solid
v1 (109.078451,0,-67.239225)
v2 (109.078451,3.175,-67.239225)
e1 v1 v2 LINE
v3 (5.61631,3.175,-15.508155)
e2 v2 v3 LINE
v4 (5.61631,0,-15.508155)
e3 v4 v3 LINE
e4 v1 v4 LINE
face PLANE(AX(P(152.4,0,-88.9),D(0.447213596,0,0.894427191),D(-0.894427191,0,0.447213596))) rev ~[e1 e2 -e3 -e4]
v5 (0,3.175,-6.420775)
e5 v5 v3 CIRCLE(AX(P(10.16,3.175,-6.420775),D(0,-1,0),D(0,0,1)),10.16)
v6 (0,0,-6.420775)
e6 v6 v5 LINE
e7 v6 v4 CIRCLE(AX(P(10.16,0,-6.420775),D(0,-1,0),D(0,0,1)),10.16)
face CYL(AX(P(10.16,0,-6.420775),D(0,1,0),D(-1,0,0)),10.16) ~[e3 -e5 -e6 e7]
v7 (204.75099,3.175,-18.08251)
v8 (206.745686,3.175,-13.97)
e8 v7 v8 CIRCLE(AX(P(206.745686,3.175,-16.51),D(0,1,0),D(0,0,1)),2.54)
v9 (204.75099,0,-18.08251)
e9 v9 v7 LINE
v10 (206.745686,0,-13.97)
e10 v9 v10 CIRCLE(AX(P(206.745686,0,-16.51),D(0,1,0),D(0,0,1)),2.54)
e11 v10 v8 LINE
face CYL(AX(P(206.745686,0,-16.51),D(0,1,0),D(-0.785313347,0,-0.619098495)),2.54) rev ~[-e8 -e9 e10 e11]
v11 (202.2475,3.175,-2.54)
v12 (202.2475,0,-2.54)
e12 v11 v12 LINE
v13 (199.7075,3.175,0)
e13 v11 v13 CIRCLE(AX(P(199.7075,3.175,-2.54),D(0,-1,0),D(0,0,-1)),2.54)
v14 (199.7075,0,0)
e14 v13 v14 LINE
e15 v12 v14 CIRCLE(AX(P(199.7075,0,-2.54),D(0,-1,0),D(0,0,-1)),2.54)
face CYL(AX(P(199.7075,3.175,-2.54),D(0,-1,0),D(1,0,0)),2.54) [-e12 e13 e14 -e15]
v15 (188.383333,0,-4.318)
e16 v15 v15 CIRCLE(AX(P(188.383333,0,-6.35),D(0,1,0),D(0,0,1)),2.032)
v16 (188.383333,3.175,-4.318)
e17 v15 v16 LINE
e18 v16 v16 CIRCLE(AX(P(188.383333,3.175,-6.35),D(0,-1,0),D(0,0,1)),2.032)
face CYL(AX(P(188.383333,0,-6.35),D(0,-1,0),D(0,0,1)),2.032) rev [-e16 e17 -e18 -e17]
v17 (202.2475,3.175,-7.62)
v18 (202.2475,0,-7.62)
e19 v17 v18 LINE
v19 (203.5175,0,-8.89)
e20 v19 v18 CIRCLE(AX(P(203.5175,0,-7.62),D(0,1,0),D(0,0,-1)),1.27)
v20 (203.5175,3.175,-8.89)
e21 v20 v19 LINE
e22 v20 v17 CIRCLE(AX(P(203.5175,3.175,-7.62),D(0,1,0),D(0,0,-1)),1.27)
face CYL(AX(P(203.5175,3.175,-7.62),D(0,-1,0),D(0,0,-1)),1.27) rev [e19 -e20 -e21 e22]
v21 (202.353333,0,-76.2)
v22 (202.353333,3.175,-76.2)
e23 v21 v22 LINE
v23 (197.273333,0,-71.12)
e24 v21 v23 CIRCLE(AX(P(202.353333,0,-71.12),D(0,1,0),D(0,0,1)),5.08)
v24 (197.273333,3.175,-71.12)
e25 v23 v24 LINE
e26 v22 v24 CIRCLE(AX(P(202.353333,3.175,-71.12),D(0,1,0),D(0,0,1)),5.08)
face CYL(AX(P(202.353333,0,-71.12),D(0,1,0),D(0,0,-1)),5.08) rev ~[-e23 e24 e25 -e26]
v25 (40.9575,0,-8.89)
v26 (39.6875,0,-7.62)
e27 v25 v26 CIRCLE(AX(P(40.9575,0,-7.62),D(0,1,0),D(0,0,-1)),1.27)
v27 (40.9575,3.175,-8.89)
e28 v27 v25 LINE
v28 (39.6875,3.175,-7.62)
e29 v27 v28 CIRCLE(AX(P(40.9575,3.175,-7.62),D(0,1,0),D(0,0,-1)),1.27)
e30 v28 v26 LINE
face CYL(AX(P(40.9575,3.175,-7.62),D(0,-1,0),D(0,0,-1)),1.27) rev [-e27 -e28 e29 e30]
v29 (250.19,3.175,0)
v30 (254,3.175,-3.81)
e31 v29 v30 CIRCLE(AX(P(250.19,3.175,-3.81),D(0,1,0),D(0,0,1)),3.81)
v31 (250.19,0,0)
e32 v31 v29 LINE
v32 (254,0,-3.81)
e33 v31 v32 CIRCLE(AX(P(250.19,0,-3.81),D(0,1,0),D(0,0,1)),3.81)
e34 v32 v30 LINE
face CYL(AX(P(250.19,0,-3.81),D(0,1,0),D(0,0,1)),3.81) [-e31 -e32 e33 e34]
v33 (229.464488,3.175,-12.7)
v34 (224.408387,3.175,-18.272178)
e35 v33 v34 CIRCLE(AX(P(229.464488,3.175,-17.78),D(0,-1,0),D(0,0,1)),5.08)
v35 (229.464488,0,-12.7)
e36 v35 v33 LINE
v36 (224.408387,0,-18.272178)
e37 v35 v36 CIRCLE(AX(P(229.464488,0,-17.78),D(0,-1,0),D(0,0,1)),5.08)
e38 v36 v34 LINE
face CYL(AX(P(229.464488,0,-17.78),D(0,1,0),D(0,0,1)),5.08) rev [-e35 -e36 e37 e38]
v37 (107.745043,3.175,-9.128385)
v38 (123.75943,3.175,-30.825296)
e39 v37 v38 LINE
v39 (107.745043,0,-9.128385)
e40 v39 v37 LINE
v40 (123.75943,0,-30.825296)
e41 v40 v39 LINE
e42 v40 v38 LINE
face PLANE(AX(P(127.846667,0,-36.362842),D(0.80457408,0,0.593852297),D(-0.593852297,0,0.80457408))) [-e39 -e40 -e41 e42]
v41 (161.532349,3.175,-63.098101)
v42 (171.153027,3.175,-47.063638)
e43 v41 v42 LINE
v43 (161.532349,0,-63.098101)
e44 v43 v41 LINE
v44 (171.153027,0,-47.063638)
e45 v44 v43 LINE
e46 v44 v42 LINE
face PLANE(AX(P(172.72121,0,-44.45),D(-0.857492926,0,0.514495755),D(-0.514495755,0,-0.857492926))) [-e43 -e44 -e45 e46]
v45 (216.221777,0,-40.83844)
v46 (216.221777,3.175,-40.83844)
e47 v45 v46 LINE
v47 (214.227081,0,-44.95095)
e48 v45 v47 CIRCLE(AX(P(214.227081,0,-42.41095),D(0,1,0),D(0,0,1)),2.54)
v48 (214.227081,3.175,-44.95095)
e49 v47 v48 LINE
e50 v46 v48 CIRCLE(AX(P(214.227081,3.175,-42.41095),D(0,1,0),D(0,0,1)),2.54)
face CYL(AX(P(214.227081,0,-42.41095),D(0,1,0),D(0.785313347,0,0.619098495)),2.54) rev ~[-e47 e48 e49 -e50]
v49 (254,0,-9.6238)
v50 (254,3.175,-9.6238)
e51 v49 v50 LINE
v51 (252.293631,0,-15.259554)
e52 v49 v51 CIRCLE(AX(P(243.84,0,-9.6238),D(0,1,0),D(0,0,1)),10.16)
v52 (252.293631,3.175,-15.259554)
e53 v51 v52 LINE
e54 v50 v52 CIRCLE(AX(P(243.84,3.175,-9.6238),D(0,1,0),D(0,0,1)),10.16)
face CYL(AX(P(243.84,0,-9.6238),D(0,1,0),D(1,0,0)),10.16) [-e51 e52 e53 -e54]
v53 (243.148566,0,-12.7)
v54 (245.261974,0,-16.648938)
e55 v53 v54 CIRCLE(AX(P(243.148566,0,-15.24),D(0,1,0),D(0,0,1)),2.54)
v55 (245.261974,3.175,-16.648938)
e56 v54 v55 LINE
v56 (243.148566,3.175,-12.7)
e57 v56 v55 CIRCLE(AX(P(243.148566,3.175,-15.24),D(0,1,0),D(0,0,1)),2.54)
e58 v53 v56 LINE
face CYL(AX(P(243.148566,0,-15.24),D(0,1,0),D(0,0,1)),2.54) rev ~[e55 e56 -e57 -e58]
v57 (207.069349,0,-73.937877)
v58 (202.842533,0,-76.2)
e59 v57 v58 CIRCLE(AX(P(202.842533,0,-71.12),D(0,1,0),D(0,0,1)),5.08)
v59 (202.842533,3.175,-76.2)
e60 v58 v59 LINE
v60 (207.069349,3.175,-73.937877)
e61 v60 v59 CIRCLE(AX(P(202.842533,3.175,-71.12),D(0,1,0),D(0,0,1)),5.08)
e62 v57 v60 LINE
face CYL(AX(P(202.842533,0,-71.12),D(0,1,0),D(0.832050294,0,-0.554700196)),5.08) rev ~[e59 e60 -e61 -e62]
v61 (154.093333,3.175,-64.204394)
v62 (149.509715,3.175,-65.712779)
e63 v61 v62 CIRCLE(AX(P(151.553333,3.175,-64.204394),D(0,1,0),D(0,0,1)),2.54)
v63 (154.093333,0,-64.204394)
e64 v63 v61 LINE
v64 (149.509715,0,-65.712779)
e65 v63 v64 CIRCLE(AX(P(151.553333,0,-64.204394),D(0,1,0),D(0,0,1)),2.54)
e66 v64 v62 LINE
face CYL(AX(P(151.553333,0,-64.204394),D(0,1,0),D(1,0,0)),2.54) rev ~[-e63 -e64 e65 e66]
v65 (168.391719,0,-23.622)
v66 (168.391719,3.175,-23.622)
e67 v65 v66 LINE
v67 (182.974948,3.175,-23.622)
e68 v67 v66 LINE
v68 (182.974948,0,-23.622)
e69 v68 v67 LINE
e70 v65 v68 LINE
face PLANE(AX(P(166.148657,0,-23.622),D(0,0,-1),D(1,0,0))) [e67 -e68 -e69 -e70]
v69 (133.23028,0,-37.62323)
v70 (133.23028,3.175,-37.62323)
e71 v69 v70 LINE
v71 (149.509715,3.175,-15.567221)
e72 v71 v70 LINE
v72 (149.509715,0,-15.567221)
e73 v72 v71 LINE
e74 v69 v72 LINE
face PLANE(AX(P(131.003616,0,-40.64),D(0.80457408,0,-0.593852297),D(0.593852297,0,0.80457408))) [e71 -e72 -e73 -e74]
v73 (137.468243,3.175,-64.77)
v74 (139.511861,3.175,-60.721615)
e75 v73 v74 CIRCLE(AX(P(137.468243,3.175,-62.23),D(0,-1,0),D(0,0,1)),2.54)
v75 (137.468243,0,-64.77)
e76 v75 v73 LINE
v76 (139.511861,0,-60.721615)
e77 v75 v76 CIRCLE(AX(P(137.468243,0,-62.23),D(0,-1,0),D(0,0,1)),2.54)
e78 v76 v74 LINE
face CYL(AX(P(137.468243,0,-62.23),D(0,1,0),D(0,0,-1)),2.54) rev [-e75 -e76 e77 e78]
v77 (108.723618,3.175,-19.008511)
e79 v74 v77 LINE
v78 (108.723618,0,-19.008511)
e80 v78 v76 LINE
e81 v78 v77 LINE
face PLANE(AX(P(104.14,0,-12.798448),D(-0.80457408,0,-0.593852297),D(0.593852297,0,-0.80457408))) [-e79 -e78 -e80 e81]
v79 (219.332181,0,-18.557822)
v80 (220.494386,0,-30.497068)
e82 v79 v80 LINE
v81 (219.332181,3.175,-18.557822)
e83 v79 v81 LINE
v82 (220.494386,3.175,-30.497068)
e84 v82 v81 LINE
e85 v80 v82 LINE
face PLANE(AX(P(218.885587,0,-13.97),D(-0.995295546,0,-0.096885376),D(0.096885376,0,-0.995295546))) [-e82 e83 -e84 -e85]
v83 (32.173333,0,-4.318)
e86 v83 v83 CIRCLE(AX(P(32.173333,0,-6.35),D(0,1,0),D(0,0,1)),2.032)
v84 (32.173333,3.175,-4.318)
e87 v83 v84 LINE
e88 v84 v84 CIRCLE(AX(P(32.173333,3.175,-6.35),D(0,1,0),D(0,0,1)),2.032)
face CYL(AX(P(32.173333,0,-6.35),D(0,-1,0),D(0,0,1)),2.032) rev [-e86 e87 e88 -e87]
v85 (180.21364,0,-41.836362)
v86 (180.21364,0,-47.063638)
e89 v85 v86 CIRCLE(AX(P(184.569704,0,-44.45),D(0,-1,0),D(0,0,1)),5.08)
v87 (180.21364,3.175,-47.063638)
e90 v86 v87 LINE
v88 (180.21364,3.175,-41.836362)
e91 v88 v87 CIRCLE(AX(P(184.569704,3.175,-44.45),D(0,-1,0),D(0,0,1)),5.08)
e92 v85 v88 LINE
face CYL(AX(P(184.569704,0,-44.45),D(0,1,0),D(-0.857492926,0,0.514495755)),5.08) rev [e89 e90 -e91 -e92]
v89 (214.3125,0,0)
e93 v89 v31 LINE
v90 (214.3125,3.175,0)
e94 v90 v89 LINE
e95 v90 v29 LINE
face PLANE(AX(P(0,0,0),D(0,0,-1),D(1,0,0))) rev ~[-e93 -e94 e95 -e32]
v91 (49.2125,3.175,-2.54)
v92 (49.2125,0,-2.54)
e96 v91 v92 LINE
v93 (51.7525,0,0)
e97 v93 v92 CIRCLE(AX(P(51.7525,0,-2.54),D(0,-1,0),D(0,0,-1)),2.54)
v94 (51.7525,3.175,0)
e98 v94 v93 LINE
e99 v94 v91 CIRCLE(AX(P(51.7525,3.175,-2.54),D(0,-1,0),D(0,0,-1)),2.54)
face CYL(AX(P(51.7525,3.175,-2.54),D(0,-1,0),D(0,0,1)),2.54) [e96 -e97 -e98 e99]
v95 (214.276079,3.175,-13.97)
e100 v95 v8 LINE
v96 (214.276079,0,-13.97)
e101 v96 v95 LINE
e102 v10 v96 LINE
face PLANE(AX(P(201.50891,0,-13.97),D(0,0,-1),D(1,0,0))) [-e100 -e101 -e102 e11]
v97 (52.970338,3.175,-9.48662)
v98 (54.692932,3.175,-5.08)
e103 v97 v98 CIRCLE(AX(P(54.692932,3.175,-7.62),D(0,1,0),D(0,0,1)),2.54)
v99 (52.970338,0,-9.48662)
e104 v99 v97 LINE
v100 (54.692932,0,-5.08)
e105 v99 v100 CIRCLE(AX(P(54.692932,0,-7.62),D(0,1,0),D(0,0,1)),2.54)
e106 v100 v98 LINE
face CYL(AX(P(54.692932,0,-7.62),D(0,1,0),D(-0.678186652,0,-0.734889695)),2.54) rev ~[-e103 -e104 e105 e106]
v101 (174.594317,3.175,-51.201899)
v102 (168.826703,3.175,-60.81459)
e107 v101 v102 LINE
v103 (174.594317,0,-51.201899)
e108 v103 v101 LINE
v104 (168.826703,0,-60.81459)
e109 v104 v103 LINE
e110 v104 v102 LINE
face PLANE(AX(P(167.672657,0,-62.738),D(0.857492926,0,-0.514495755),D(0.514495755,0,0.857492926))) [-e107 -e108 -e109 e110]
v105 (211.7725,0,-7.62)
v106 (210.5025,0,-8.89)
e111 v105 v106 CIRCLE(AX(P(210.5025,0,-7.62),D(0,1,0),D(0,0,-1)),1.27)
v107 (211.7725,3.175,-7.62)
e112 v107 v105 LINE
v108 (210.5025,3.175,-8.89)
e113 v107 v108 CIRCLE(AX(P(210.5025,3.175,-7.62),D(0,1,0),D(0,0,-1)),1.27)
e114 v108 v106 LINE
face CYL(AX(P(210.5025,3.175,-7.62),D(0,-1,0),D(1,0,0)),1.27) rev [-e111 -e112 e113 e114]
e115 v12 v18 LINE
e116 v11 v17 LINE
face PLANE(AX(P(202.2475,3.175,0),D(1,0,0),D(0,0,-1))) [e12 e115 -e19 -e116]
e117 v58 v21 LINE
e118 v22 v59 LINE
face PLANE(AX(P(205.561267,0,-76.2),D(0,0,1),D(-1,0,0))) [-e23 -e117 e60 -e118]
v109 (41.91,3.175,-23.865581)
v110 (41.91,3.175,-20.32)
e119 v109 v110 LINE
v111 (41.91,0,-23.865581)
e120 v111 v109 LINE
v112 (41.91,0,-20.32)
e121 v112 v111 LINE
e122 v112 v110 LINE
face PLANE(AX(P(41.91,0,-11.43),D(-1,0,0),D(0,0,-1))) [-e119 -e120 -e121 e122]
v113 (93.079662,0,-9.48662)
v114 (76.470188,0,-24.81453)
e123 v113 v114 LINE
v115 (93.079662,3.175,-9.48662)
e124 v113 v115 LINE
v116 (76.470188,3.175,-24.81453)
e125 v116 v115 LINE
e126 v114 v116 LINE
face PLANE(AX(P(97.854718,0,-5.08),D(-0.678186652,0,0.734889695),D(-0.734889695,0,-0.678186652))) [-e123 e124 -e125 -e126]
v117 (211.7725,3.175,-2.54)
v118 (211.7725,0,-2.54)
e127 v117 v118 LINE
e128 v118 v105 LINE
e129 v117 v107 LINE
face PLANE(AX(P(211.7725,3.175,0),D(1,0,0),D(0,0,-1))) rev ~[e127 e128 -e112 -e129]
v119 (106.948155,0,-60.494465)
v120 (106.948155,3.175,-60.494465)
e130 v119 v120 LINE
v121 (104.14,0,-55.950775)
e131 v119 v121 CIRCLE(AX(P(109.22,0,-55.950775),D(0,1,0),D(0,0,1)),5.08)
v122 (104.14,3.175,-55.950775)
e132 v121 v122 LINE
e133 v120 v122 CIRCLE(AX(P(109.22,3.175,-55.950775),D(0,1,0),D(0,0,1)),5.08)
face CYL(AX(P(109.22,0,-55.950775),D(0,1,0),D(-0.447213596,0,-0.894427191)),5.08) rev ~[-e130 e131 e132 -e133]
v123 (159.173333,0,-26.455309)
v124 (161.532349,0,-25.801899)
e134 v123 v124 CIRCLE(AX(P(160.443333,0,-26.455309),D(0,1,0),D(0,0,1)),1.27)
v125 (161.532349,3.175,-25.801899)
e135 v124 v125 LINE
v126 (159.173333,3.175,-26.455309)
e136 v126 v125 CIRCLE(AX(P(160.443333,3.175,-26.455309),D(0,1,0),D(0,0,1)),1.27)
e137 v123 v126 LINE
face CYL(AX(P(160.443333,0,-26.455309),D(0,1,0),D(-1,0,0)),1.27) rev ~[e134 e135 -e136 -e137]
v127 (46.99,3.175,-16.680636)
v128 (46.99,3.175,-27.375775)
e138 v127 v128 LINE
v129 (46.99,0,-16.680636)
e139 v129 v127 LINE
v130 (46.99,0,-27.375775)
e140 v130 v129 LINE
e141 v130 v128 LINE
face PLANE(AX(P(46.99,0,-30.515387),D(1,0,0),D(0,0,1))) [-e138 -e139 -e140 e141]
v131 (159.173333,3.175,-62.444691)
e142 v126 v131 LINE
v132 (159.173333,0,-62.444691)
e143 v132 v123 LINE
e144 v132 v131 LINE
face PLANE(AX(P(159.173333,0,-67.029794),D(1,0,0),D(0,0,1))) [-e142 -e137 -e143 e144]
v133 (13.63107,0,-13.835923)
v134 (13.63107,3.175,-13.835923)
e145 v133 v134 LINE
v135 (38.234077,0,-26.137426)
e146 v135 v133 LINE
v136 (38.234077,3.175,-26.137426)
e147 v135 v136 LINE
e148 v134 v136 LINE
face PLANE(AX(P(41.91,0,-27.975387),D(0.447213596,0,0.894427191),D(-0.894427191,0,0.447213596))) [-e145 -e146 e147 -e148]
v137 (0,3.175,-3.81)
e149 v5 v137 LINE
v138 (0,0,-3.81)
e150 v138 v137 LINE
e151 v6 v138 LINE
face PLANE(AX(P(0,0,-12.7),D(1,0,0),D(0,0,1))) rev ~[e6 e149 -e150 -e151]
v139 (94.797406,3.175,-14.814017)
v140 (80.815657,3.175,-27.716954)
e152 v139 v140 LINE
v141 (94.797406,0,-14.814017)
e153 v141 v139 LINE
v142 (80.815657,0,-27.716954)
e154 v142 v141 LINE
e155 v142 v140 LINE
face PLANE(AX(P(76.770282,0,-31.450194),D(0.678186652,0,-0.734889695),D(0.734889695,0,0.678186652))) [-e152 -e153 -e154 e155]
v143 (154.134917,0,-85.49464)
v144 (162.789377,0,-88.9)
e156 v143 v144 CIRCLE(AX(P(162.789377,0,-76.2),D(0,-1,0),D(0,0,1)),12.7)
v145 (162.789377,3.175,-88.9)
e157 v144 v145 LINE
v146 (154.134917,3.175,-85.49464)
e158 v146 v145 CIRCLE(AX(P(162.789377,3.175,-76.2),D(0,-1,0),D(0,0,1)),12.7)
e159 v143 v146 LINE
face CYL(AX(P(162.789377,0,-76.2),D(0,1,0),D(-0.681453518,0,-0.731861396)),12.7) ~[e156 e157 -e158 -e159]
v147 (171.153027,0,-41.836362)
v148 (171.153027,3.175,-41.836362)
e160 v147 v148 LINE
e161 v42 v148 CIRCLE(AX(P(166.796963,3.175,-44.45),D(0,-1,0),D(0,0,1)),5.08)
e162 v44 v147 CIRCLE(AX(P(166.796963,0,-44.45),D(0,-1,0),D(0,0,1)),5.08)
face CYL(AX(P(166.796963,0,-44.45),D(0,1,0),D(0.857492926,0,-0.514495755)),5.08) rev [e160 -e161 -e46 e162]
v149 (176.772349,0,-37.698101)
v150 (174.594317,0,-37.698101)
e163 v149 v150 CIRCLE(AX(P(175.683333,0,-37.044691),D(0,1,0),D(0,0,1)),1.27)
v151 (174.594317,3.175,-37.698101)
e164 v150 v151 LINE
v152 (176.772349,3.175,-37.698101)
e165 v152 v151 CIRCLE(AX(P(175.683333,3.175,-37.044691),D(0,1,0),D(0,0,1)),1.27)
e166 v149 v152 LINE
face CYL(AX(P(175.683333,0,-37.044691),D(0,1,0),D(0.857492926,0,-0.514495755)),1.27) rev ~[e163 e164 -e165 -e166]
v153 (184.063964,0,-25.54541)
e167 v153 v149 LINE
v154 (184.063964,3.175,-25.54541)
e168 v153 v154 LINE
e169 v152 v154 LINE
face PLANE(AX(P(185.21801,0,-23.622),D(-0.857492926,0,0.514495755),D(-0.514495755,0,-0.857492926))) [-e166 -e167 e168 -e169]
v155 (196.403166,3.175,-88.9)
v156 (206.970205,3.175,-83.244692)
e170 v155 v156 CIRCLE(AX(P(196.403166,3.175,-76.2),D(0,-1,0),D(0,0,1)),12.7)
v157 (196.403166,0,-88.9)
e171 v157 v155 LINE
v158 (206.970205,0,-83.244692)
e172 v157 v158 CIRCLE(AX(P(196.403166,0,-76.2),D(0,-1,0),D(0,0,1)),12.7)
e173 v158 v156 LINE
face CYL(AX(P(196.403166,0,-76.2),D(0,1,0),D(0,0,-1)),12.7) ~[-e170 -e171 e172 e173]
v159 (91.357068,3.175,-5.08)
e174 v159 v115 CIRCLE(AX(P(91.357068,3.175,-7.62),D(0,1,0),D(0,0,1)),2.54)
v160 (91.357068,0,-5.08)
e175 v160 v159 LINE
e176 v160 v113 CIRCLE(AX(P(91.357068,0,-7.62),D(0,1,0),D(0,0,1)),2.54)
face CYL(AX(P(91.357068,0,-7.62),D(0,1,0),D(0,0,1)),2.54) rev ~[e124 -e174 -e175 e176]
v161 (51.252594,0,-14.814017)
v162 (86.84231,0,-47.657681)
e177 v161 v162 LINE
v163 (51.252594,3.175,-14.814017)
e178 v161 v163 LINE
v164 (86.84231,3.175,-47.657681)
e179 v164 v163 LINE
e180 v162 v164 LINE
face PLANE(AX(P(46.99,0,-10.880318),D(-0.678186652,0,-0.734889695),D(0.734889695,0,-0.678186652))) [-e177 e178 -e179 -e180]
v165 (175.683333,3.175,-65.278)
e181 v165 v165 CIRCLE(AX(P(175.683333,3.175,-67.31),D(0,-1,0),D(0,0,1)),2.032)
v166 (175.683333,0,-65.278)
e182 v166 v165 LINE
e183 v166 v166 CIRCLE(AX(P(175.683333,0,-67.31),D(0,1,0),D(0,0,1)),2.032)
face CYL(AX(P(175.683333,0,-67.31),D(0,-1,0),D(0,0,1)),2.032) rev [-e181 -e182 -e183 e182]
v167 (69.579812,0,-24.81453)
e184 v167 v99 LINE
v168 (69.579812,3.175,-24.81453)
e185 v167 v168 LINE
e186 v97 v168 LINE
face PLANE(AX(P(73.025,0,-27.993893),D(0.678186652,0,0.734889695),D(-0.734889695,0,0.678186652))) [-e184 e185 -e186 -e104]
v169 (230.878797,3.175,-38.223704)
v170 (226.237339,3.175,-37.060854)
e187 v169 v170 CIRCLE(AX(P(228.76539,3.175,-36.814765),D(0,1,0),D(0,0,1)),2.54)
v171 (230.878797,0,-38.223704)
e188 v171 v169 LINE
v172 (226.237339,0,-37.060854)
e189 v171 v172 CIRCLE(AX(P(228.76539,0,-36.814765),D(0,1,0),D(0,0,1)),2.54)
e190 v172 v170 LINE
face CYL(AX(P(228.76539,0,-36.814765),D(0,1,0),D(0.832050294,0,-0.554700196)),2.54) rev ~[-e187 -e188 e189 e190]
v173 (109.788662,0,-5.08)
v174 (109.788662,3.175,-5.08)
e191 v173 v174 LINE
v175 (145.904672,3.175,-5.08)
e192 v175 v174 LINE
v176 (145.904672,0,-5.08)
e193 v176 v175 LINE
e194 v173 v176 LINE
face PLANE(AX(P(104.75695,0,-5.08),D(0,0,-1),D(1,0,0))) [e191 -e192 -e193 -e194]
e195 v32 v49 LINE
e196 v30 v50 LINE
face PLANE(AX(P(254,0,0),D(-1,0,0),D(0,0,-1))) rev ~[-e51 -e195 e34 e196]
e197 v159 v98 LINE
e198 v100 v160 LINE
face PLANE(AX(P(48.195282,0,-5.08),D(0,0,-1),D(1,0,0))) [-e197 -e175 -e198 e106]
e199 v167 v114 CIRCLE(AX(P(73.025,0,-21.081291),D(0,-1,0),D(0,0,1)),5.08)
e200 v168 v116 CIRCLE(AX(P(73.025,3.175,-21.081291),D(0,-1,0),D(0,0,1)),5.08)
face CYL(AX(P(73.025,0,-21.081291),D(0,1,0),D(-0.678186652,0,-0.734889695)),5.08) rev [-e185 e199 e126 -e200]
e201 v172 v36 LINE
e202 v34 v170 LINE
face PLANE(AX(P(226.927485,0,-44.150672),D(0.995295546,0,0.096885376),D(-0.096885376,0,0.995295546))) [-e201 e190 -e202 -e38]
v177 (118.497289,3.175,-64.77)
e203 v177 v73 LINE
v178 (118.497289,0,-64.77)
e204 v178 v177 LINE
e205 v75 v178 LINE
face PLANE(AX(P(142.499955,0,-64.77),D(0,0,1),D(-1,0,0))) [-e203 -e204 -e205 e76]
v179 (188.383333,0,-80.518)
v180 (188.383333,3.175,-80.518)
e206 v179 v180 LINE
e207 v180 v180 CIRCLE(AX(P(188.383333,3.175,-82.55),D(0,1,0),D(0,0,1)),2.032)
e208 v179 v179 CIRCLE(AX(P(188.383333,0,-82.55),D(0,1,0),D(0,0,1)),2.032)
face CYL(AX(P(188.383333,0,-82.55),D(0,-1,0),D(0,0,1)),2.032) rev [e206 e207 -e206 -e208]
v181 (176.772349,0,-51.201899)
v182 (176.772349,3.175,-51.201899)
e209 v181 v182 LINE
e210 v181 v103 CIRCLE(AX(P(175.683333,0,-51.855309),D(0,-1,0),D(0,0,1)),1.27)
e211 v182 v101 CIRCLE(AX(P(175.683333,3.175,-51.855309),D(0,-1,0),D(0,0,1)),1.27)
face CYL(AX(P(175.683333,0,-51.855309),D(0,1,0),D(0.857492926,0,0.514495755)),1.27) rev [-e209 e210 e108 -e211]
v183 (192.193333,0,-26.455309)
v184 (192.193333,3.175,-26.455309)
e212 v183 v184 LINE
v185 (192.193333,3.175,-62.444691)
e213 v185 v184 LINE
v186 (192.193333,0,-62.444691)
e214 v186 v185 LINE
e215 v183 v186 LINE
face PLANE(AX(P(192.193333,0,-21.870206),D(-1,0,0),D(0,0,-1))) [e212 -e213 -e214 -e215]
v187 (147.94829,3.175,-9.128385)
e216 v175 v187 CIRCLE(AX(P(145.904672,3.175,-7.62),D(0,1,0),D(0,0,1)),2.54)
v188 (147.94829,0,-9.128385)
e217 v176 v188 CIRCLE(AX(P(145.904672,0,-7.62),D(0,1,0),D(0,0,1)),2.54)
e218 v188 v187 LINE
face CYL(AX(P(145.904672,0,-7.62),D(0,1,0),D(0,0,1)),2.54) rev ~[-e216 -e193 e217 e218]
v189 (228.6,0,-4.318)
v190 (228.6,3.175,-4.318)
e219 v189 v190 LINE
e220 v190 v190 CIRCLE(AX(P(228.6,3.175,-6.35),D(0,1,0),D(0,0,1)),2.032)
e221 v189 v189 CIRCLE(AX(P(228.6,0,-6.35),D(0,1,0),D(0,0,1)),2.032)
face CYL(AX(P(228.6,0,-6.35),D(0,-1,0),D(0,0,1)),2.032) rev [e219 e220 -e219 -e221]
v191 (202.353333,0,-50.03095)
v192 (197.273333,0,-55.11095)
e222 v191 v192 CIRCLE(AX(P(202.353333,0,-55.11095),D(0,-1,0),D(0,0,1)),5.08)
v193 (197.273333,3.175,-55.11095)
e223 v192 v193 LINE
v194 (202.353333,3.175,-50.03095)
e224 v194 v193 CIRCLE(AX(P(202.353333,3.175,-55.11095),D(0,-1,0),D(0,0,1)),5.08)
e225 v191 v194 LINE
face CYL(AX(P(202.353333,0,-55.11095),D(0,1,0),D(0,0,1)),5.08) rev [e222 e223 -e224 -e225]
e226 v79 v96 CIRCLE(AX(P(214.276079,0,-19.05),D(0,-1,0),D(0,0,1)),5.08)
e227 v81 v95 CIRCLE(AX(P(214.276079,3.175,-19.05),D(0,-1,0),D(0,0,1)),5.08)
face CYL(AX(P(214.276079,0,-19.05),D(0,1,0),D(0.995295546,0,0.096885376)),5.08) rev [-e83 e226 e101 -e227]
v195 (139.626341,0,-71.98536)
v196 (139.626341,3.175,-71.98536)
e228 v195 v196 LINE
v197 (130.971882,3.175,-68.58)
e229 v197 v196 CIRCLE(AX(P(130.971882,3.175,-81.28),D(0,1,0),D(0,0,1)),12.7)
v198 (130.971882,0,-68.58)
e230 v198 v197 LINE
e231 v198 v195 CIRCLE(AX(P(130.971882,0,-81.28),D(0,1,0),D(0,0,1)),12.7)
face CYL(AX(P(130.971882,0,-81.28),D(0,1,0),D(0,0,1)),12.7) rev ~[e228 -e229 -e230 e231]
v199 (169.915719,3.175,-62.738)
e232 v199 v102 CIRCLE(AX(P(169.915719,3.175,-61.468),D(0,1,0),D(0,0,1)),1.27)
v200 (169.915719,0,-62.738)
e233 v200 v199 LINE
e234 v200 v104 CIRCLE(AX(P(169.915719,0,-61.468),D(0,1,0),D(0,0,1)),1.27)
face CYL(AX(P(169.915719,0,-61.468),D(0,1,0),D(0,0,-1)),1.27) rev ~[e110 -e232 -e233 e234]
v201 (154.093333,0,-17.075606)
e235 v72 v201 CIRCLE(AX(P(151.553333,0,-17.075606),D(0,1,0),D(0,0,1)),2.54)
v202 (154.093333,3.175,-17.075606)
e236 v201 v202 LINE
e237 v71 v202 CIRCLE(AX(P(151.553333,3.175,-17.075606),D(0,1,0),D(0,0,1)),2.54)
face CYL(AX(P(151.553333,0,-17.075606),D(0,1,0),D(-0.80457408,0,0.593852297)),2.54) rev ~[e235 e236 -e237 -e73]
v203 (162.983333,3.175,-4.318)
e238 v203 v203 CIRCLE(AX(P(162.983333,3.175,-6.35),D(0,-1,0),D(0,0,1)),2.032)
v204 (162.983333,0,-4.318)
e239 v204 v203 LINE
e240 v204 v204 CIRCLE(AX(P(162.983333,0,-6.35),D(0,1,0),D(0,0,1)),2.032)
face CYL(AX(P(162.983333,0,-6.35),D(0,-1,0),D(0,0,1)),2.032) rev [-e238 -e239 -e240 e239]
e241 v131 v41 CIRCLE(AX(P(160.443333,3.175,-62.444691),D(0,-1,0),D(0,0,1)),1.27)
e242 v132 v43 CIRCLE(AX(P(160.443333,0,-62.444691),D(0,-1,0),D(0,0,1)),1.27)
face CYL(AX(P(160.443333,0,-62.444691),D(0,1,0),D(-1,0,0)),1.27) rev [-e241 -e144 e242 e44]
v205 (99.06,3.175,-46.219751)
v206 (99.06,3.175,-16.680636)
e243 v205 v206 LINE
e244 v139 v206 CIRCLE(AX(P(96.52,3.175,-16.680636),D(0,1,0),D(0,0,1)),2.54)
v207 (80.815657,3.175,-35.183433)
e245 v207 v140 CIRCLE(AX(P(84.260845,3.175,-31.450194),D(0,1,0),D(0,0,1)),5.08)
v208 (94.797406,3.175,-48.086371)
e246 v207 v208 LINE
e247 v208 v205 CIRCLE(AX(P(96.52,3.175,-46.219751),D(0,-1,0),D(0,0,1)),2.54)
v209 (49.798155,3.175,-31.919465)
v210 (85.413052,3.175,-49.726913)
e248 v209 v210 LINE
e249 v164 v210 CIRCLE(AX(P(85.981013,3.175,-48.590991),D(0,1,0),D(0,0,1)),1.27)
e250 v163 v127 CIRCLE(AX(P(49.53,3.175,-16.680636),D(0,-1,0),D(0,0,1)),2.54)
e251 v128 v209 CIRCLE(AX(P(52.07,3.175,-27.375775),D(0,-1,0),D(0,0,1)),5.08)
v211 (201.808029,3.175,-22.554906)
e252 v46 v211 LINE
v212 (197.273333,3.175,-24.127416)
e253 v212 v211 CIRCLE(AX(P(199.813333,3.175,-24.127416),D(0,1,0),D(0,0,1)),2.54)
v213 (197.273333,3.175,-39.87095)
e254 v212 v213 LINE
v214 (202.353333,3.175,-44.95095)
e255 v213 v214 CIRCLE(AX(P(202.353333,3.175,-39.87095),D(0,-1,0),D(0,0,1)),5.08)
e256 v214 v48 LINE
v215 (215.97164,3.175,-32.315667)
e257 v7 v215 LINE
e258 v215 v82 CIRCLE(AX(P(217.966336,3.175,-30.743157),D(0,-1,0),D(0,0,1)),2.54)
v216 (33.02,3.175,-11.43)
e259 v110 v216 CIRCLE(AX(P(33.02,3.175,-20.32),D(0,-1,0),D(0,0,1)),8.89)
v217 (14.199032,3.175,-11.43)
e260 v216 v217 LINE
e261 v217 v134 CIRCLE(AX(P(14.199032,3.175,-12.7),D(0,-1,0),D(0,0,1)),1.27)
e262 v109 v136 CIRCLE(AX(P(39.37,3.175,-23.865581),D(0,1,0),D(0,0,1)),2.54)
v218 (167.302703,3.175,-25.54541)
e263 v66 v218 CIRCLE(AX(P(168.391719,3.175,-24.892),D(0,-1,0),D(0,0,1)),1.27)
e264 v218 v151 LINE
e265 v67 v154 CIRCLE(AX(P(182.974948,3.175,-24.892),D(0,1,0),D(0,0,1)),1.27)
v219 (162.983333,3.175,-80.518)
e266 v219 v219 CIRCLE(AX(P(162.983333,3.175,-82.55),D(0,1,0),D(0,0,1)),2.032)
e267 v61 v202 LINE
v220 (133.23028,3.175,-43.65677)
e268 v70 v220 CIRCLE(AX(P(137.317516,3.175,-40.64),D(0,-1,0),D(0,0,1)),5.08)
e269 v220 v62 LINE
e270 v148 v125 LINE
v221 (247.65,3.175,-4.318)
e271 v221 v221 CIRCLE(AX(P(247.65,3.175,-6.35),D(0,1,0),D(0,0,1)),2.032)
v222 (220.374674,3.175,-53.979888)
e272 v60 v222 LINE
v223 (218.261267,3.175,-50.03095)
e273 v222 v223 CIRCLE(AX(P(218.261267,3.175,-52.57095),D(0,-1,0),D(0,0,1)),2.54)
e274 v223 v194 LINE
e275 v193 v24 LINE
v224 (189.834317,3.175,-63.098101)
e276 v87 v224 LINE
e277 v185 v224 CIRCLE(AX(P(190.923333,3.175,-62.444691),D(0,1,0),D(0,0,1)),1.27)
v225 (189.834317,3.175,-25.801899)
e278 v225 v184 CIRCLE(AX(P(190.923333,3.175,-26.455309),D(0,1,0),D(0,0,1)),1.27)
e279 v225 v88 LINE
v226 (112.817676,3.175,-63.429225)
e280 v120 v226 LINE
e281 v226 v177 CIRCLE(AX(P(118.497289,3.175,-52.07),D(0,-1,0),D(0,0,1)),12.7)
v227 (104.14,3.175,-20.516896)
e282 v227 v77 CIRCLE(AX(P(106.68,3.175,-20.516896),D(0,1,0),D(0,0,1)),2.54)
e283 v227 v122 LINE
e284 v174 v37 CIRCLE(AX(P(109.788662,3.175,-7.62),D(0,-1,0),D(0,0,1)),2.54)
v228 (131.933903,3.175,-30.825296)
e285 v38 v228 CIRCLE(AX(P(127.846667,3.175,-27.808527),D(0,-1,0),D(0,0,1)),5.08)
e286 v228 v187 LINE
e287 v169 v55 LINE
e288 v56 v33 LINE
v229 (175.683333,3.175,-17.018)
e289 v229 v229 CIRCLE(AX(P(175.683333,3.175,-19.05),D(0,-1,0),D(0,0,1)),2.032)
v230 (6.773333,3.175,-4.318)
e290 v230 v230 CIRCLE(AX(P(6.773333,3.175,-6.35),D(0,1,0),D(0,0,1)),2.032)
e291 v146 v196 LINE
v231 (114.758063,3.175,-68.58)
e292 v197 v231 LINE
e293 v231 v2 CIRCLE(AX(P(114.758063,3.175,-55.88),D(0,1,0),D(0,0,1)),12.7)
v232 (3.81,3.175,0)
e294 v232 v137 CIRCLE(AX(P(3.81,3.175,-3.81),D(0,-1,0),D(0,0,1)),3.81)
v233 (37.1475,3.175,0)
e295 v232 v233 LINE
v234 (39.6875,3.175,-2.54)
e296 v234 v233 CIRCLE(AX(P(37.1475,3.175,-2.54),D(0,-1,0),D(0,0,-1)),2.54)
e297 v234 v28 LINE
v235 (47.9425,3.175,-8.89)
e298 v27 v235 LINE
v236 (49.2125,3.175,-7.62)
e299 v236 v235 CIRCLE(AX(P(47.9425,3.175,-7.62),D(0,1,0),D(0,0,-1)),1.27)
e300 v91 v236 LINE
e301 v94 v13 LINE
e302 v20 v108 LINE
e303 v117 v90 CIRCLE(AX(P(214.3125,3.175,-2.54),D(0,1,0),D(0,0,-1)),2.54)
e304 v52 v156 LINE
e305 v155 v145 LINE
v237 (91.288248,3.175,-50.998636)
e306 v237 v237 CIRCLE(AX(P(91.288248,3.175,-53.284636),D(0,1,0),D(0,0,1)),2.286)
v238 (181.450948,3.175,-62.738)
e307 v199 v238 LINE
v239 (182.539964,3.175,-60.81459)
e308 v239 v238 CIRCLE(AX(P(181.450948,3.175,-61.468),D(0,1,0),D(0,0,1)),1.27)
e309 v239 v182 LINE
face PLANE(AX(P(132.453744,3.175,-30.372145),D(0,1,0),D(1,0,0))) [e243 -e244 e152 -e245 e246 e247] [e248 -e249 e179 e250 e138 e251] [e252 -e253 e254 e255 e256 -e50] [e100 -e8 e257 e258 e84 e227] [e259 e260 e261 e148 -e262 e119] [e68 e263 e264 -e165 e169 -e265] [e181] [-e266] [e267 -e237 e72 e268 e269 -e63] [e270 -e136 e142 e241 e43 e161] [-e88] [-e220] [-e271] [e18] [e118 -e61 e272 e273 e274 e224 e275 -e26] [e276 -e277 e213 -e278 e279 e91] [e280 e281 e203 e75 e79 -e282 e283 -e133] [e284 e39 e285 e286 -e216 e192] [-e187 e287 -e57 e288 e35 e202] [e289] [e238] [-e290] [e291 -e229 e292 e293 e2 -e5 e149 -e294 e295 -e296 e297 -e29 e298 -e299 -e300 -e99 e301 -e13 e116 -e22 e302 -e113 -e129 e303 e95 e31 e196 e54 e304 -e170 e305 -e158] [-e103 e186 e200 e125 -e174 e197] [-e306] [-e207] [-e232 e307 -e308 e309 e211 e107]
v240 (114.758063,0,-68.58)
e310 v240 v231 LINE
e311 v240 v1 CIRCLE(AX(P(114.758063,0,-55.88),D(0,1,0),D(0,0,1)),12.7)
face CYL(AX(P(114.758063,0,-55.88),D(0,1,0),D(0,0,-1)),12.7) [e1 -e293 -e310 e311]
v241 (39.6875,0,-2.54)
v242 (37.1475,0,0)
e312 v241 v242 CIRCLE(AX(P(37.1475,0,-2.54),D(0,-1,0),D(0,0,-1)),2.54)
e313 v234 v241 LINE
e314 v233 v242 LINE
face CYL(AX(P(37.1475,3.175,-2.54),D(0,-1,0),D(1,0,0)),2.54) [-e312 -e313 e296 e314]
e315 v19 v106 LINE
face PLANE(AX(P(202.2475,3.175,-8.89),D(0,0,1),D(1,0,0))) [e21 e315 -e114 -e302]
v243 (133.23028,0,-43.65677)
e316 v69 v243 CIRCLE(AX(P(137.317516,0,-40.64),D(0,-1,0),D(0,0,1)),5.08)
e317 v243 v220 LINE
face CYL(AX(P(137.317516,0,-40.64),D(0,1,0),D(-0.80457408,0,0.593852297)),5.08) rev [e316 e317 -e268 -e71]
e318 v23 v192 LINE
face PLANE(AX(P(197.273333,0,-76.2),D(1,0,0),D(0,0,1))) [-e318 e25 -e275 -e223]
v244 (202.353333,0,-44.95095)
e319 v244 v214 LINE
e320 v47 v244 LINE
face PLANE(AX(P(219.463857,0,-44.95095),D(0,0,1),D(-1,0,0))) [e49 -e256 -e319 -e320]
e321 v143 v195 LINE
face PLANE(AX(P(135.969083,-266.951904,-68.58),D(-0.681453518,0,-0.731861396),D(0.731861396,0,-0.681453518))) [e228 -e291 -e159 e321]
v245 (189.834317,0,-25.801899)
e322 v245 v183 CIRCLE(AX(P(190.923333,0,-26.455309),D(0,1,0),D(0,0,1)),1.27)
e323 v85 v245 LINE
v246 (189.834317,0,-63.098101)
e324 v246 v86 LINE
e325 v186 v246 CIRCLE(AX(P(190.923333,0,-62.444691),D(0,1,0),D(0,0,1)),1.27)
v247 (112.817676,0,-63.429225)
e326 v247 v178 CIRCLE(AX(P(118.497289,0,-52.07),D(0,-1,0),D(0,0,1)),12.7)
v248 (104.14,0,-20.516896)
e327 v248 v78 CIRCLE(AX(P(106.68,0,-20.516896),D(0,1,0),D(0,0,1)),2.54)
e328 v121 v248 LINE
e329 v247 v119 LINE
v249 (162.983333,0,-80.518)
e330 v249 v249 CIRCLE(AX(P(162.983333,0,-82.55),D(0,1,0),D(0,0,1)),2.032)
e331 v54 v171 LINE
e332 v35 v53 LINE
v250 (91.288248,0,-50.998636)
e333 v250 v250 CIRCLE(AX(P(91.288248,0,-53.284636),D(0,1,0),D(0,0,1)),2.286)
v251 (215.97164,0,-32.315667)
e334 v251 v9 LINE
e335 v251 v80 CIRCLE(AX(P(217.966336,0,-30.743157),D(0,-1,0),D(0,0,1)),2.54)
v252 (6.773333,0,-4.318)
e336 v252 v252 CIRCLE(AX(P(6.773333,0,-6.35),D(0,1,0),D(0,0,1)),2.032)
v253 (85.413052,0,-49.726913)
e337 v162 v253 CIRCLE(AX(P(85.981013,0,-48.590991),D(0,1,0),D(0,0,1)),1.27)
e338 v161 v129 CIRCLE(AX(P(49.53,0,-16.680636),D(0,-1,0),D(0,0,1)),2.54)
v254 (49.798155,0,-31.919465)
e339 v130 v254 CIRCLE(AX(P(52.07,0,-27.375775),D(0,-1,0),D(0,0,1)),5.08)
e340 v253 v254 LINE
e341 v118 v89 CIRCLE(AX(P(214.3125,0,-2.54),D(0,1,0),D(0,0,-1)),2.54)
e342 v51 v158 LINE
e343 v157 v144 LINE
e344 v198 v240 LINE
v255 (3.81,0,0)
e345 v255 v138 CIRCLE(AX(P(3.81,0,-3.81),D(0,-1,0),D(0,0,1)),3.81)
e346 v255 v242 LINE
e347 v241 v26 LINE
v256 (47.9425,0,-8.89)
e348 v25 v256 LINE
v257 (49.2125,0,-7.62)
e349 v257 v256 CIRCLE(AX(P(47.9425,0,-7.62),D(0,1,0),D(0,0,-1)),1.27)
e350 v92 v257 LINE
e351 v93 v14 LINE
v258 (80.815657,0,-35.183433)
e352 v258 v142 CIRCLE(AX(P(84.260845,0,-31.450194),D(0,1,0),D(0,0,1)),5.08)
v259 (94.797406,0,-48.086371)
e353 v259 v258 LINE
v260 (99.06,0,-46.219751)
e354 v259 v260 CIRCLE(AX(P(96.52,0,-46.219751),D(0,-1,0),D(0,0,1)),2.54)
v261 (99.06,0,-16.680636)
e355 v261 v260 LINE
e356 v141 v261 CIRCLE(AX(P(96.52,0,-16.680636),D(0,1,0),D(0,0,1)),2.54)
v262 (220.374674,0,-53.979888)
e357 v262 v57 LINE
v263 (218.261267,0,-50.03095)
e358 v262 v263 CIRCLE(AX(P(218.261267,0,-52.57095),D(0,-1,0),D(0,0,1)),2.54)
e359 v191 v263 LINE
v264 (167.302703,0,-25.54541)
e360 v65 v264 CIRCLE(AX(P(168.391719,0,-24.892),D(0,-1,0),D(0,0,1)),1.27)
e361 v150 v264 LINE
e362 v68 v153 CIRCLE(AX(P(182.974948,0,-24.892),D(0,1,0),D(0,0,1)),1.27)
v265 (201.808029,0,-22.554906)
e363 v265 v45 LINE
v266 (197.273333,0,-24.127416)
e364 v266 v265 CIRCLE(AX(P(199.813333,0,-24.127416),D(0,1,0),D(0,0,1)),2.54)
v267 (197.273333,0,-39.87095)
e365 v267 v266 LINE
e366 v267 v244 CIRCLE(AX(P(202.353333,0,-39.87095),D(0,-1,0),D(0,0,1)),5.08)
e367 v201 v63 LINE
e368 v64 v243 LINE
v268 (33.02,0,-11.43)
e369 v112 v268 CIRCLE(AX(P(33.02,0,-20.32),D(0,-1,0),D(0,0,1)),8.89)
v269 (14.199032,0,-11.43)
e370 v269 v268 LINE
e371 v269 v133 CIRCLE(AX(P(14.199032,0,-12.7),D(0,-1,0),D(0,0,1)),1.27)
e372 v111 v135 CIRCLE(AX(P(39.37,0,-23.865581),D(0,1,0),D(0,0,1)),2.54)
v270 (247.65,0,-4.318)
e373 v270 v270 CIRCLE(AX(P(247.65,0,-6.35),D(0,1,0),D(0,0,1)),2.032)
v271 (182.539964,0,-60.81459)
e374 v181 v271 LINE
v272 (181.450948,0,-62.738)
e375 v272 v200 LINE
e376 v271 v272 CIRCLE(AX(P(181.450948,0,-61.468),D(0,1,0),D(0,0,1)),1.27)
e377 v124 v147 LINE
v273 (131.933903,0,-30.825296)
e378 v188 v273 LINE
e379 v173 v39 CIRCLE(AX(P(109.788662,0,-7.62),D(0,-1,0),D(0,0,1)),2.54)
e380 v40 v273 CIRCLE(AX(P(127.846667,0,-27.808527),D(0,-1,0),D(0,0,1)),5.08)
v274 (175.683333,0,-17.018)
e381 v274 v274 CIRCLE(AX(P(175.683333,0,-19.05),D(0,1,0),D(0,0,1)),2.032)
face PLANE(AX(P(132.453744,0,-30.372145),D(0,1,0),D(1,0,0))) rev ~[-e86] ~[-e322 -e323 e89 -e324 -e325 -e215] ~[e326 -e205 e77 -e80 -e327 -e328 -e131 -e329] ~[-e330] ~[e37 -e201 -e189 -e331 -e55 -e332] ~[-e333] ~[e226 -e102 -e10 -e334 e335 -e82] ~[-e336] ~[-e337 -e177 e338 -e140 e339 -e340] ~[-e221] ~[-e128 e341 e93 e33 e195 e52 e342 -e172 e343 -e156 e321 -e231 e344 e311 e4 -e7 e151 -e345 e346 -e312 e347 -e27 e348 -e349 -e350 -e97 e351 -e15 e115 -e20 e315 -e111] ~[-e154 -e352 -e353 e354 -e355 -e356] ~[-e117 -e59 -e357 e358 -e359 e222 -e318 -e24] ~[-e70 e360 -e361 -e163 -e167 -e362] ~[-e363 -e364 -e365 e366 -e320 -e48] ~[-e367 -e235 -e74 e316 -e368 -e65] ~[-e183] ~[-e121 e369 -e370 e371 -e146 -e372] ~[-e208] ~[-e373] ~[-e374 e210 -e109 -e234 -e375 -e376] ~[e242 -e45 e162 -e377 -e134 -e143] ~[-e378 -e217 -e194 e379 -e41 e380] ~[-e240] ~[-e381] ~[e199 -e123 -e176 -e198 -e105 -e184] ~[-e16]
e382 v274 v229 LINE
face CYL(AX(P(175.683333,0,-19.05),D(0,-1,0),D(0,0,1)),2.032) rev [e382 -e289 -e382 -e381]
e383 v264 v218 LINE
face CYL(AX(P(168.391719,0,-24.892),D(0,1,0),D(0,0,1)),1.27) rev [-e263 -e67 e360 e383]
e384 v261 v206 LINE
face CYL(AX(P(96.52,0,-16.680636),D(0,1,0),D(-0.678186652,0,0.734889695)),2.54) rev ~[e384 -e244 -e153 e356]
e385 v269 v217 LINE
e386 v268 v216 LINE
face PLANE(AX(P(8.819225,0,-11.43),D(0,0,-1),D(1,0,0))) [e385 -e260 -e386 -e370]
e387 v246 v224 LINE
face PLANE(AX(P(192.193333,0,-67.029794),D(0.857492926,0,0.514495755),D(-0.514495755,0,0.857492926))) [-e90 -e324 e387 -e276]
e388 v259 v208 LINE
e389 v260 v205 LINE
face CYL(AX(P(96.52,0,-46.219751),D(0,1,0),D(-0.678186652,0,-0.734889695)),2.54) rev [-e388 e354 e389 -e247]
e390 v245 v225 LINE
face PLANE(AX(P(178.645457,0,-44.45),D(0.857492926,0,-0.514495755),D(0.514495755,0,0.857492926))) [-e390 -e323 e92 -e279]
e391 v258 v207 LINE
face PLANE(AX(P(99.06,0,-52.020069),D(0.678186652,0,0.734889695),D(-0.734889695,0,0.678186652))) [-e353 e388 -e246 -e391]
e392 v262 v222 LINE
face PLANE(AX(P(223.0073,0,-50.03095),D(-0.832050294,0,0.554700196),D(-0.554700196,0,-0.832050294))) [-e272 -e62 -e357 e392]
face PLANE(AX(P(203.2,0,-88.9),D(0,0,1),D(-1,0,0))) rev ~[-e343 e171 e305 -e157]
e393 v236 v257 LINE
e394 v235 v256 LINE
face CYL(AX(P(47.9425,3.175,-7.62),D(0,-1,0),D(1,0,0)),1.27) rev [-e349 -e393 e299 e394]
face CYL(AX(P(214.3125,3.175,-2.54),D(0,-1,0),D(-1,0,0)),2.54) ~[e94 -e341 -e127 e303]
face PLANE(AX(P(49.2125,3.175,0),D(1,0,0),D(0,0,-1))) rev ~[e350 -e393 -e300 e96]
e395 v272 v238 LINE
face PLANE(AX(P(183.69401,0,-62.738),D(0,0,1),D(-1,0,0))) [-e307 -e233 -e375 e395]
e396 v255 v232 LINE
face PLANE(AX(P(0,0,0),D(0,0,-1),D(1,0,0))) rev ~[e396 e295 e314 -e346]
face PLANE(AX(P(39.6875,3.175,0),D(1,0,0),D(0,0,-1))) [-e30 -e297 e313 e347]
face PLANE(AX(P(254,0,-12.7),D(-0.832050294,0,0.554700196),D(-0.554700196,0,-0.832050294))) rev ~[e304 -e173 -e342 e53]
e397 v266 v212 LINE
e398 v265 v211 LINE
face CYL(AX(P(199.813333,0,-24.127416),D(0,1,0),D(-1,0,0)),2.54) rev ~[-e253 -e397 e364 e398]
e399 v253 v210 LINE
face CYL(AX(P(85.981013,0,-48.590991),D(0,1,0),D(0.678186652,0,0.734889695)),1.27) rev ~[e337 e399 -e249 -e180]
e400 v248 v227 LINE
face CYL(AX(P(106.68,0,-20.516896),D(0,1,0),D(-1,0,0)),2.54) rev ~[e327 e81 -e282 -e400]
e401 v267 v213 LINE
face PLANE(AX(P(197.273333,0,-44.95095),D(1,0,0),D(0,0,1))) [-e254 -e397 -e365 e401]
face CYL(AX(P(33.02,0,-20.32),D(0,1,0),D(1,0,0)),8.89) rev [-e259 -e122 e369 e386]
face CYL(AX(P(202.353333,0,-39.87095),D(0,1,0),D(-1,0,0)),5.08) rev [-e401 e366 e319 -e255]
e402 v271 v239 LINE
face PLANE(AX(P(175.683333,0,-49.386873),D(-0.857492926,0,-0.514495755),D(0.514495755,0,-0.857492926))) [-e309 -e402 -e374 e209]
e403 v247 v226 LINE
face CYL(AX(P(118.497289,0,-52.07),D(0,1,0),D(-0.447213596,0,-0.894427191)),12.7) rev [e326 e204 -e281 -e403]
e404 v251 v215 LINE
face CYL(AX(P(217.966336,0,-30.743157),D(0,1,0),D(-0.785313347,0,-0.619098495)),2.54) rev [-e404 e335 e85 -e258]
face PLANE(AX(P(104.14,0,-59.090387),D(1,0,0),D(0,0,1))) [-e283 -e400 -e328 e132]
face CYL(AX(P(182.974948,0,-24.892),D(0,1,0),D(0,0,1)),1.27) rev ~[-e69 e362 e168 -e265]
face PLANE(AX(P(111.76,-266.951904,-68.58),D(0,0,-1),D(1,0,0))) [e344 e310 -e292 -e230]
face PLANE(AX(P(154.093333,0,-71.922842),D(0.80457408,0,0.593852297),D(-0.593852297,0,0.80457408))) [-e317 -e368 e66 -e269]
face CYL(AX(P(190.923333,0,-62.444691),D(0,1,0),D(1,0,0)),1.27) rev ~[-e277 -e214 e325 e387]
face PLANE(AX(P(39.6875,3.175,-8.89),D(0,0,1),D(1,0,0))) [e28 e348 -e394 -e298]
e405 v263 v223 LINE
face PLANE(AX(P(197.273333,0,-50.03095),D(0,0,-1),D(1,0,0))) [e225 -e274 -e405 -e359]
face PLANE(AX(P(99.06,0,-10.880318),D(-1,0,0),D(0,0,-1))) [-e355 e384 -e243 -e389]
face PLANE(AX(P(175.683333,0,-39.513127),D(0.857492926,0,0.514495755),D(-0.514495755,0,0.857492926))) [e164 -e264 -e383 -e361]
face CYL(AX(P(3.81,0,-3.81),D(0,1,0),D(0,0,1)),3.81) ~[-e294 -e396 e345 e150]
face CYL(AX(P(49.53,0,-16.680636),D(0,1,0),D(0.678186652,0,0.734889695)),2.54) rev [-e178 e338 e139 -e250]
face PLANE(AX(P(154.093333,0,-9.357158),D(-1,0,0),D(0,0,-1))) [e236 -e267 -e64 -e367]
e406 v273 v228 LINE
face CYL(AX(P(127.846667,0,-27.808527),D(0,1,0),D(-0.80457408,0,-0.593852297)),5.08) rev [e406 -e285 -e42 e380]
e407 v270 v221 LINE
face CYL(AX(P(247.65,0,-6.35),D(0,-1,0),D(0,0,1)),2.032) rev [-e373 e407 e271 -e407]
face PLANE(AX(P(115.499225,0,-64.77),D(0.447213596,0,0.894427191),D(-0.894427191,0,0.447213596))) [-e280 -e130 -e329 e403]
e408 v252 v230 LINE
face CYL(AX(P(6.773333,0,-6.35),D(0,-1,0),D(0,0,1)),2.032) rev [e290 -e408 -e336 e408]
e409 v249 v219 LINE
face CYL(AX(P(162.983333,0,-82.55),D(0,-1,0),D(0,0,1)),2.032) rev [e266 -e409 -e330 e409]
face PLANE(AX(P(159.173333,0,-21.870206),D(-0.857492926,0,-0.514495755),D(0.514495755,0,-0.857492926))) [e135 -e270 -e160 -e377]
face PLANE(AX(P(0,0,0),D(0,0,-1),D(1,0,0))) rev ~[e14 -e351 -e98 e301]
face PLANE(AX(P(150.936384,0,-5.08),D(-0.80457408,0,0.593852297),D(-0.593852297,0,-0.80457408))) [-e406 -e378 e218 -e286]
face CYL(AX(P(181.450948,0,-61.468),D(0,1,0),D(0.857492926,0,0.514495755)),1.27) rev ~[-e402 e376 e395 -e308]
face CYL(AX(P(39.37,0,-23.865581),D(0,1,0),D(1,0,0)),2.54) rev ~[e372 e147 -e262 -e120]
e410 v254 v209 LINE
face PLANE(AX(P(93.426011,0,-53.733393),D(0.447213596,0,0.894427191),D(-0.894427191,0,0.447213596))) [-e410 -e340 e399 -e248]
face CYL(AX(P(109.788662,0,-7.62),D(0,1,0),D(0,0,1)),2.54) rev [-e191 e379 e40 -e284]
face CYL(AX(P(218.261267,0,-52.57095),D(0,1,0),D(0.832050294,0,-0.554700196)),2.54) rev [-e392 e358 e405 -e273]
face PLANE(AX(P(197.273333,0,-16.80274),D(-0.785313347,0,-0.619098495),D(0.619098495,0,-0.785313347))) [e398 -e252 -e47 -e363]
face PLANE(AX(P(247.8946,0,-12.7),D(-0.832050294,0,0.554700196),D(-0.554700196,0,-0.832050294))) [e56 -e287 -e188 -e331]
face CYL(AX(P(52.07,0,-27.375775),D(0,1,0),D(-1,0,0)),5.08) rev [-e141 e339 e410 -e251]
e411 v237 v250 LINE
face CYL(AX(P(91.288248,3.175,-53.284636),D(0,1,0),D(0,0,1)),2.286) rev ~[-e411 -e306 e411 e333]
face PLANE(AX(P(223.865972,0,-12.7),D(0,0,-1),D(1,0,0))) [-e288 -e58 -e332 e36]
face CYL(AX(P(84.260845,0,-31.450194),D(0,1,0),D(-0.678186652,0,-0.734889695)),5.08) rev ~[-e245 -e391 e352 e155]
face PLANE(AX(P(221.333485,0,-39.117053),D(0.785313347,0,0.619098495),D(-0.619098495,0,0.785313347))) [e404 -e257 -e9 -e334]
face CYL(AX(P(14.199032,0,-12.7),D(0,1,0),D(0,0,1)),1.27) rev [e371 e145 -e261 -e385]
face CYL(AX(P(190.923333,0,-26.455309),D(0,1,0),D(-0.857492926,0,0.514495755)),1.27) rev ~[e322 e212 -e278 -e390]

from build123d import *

# Parameters (mm, degrees)
SKETCH1_R               = 2.032
BOSS_EXTRUDE1_DEPTH     = 3.175
SKETCH1_3_R             = 2.032
CUT_EXTRUDE2_DEPTH      = 270.126904313
FILLET1_R               = 3.81
FILLET2_R               = 10.16
FILLET3_R               = 12.7
FILLET4_R               = 1.27
FILLET5_R               = 2.54
FILLET6_R               = 5.08
FILLET7_R               = 12.7
FILLET10_R              = 8.89
CUT_EXTRUDE5_DEPTH      = 270.126904313
CUT_EXTRUDE5_DEPTH_BACK = 270.126904313
FILLET11_R              = 12.7
SKETCH2_W               = 9.525
SKETCH2_H               = 8.89
CUT_EXTRUDE3_DEPTH      = 270.126904313
FILLET8_R               = 1.27
FILLET9_R               = 2.54
SKETCH3_R               = 2.286
CUT_EXTRUDE4_DEPTH      = 3.175


with BuildPart() as part:
    # Sketch1 → Boss-Extrude1 (new body)
    with BuildSketch(Plane(origin=(0, 0, 0), x_dir=(1, 0, 0), z_dir=(0, 1, 0))):
        Polygon((0, 0), (254, 0), (254, 12.7), (203.2, 88.9), (152.4, 88.9), (0, 12.7), align=None)
        with Locations(Location((6.773333333, 6.35, 0), (0, 0, 270))):
            Circle(SKETCH1_R, mode=Mode.SUBTRACT)
        with Locations(Location((32.173333333, 6.35, 0), (0, 0, 270))):
            Circle(SKETCH1_R, mode=Mode.SUBTRACT)
        with Locations(Location((228.6, 6.35, 0), (0, 0, 270))):
            Circle(SKETCH1_R, mode=Mode.SUBTRACT)
        with Locations(Location((247.65, 6.35, 0), (0, 0, 270))):
            Circle(SKETCH1_R, mode=Mode.SUBTRACT)
        with Locations(Location((162.983333333, 82.55, 0), (0, 0, 270))):
            Circle(SKETCH1_R, mode=Mode.SUBTRACT)
        with Locations(Location((188.383333333, 82.55, 0), (0, 0, 270))):
            Circle(SKETCH1_R, mode=Mode.SUBTRACT)
    extrude(amount=BOSS_EXTRUDE1_DEPTH)

    # Sketch1<3> → Cut-Extrude2 (cut, through all)
    with BuildSketch(Plane(origin=(0, 0, 0), x_dir=(1, 0, 0), z_dir=(0, 1, 0))):
        Polygon((8.819225326, 11.43), (41.91, 11.43), (41.91, 27.975387337), align=None)
        Polygon((73.025, 27.993892654), (48.195281614, 5.08), (97.854718386, 5.08), align=None)
        Polygon((46.99, 30.515387337), (46.99, 10.88031823), (93.426011301, 53.733392988), align=None)
        with Locations(Location((188.383333333, 6.35, 0), (0, 0, 270))):
            Circle(SKETCH1_3_R)
        Polygon((104.756949825, 5.08), (150.936383508, 5.08), (127.846666667, 36.362842172), align=None)
        with Locations(Location((162.983333333, 6.35, 0), (0, 0, 270))):
            Circle(SKETCH1_3_R)
        Polygon((99.06, 52.020069107), (76.770281614, 31.450193669), (99.06, 10.88031823), align=None)
        Polygon((142.499954937, 64.77), (115.499225326, 64.77), (104.14, 59.090387337), (104.14, 12.79844815), align=None)
        Polygon((223.00729992, 50.03094988), (205.561266507, 76.2), (197.273333333, 76.2), (197.273333333, 50.03094988), align=None)
        Polygon((131.003616492, 40.64), (154.093333333, 9.357157828), (154.093333333, 71.922842172), align=None)
        Polygon((197.273333333, 44.95094988), (197.273333333, 16.802739743), (219.463857142, 44.95094988), align=None)
        Polygon((166.148656896, 23.622), (185.218009771, 23.622), (175.683333333, 39.513127396), align=None)
        Polygon((178.645456896, 44.45), (192.193333333, 21.870205938), (192.193333333, 67.029794062), align=None)
        Polygon((221.333484531, 39.117053196), (201.508910253, 13.97), (218.885586813, 13.97), align=None)
        Polygon((223.865972381, 12.7), (247.89459984, 12.7), (226.927485283, 44.150671836), align=None)
        Polygon((159.173333333, 67.029794062), (159.173333333, 21.870205938), (172.721209771, 44.45), align=None)
        Polygon((175.683333333, 49.386872604), (183.694009771, 62.738), (167.672656896, 62.738), align=None)
        with Locations(Location((175.683333333, 19.05, 0), (0, 0, 270))):
            Circle(SKETCH1_3_R)
        with Locations(Location((175.683333333, 67.31, 0), (0, 0, 270))):
            Circle(SKETCH1_3_R)
    extrude(amount=CUT_EXTRUDE2_DEPTH, mode=Mode.SUBTRACT)

    # Fillet1
    fillet1_edges = [part.edges().sort_by_distance(p)[0] for p in [
        (0, 1.5875, 0),
        (254, 1.5875, 0),
    ]]
    fillet(fillet1_edges, radius=FILLET1_R)

    # Fillet2
    fillet2_edges = [part.edges().sort_by_distance(p)[0] for p in [
        (254, 1.5875, -12.7),
        (0, 1.5875, -12.7),
    ]]
    fillet(fillet2_edges, radius=FILLET2_R)

    # Fillet3
    fillet3_edges = [part.edges().sort_by_distance(p)[0] for p in [
        (203.2, 1.5875, -88.9),
        (152.4, 1.5875, -88.9),
    ]]
    fillet(fillet3_edges, radius=FILLET3_R)

    # Fillet4
    fillet4_edges = [part.edges().sort_by_distance(p)[0] for p in [
        (175.683333333, 1.5875, -39.513127396),
        (166.148656896, 1.5875, -23.622),
        (185.218009771, 1.5875, -23.622),
        (159.173333333, 1.5875, -67.029794062),
        (159.173333333, 1.5875, -21.870205938),
        (183.694009771, 1.5875, -62.738),
        (167.672656896, 1.5875, -62.738),
        (175.683333333, 1.5875, -49.386872604),
        (8.819225326, 1.5875, -11.43),
        (192.193333333, 1.5875, -67.029794062),
        (192.193333333, 1.5875, -21.870205938),
        (93.426011301, 1.5875, -53.733392988),
    ]]
    fillet(fillet4_edges, radius=FILLET4_R)

    # Fillet5
    fillet5_edges = [part.edges().sort_by_distance(p)[0] for p in [
        (247.89459984, 1.5875, -12.7),
        (226.927485283, 1.5875, -44.150671836),
        (221.333484531, 1.5875, -39.117053196),
        (201.508910253, 1.5875, -13.97),
        (41.91, 1.5875, -27.975387337),
        (99.06, 1.5875, -52.020069107),
        (99.06, 1.5875, -10.88031823),
        (97.854718386, 1.5875, -5.08),
        (48.195281614, 1.5875, -5.08),
        (150.936383508, 1.5875, -5.08),
        (104.756949825, 1.5875, -5.08),
        (142.499954937, 1.5875, -64.77),
        (104.14, 1.5875, -12.79844815),
        (223.00729992, 1.5875, -50.03094988),
        (197.273333333, 1.5875, -16.802739743),
        (219.463857142, 1.5875, -44.95094988),
        (154.093333333, 1.5875, -9.357157828),
        (154.093333333, 1.5875, -71.922842172),
        (46.99, 1.5875, -10.88031823),
    ]]
    fillet(fillet5_edges, radius=FILLET5_R)

    # Fillet6
    fillet6_edges = [part.edges().sort_by_distance(p)[0] for p in [
        (223.865972381, 1.5875, -12.7),
        (172.721209771, 1.5875, -44.45),
        (218.885586813, 1.5875, -13.97),
        (76.770281614, 1.5875, -31.450193669),
        (73.025, 1.5875, -27.993892654),
        (127.846666667, 1.5875, -36.362842172),
        (104.14, 1.5875, -59.090387337),
        (178.645456896, 1.5875, -44.45),
        (197.273333333, 1.5875, -50.03094988),
        (205.561266507, 1.5875, -76.2),
        (197.273333333, 1.5875, -76.2),
        (197.273333333, 1.5875, -44.95094988),
        (131.003616492, 1.5875, -40.64),
        (46.99, 1.5875, -30.515387337),
    ]]
    fillet(fillet6_edges, radius=FILLET6_R)

    # Fillet7
    fillet7_edges = [part.edges().sort_by_distance(p)[0] for p in [
        (115.499225326, 1.5875, -64.77),
    ]]
    fillet(fillet7_edges, radius=FILLET7_R)

    # Fillet10
    fillet10_edges = [part.edges().sort_by_distance(p)[0] for p in [
        (41.91, 1.5875, -11.43),
    ]]
    fillet(fillet10_edges, radius=FILLET10_R)

    # Sketch4 → Cut-Extrude5 (cut, two sides: drawn at the far end of the back side and taken through both)
    with BuildSketch(Plane(origin=(0, 3.175, 0), x_dir=(1, 0, 0), z_dir=(0, 1, 0)).offset(-CUT_EXTRUDE5_DEPTH_BACK)):
        with BuildLine():
            Line((111.76, 68.58), (118.49728864, 68.58))
            Line((118.49728864, 68.58), (135.969082876, 68.58))
            Line((135.969082876, 68.58), (157.79217598, 88.9))
            Line((157.79217598, 88.9), (155.398063314, 88.9))
            ThreePointArc((155.398063314, 88.9), (152.480201223, 88.560262166), (149.718450651, 87.559225326))
            Line((149.718450651, 87.559225326), (111.76, 68.58))
        make_face()
    extrude(amount=CUT_EXTRUDE5_DEPTH + CUT_EXTRUDE5_DEPTH_BACK, mode=Mode.SUBTRACT)

    # Fillet11
    fillet11_edges = [part.edges().sort_by_distance(p)[0] for p in [
        (157.79217598, 1.5875, -88.9),
        (135.969082876, 1.5875, -68.58),
        (111.76, 1.5875, -68.58),
    ]]
    fillet(fillet11_edges, radius=FILLET11_R)

    # Sketch2 → Cut-Extrude3 (cut, through all)
    with BuildSketch(Plane(origin=(0, 3.175, 0), x_dir=(1, 0, 0), z_dir=(0, 1, 0))):
        with Locations((44.45, 4.445)):
            Rectangle(SKETCH2_W, SKETCH2_H)
        with Locations((207.01, 4.445)):
            Rectangle(SKETCH2_W, SKETCH2_H)
    extrude(amount=-CUT_EXTRUDE3_DEPTH, mode=Mode.SUBTRACT)

    # Fillet8
    fillet8_edges = [part.edges().sort_by_distance(p)[0] for p in [
        (39.6875, 1.5875, -8.89),
        (49.2125, 1.5875, -8.89),
        (202.2475, 1.5875, -8.89),
        (211.7725, 1.5875, -8.89),
    ]]
    fillet(fillet8_edges, radius=FILLET8_R)

    # Fillet9
    fillet9_edges = [part.edges().sort_by_distance(p)[0] for p in [
        (39.6875, 1.5875, 0),
        (49.2125, 1.5875, 0),
        (202.2475, 1.5875, 0),
        (211.7725, 1.5875, 0),
    ]]
    fillet(fillet9_edges, radius=FILLET9_R)

    # Sketch3 → Cut-Extrude4 (cut)
    with BuildSketch(Plane(origin=(0, 3.175, 0), x_dir=(1, 0, 0), z_dir=(0, 1, 0))):
        with Locations(Location((91.288247909, 53.284636108, 0), (0, 0, 270))):
            Circle(SKETCH3_R)
    extrude(amount=-CUT_EXTRUDE4_DEPTH, mode=Mode.SUBTRACT)


solid = part.part
